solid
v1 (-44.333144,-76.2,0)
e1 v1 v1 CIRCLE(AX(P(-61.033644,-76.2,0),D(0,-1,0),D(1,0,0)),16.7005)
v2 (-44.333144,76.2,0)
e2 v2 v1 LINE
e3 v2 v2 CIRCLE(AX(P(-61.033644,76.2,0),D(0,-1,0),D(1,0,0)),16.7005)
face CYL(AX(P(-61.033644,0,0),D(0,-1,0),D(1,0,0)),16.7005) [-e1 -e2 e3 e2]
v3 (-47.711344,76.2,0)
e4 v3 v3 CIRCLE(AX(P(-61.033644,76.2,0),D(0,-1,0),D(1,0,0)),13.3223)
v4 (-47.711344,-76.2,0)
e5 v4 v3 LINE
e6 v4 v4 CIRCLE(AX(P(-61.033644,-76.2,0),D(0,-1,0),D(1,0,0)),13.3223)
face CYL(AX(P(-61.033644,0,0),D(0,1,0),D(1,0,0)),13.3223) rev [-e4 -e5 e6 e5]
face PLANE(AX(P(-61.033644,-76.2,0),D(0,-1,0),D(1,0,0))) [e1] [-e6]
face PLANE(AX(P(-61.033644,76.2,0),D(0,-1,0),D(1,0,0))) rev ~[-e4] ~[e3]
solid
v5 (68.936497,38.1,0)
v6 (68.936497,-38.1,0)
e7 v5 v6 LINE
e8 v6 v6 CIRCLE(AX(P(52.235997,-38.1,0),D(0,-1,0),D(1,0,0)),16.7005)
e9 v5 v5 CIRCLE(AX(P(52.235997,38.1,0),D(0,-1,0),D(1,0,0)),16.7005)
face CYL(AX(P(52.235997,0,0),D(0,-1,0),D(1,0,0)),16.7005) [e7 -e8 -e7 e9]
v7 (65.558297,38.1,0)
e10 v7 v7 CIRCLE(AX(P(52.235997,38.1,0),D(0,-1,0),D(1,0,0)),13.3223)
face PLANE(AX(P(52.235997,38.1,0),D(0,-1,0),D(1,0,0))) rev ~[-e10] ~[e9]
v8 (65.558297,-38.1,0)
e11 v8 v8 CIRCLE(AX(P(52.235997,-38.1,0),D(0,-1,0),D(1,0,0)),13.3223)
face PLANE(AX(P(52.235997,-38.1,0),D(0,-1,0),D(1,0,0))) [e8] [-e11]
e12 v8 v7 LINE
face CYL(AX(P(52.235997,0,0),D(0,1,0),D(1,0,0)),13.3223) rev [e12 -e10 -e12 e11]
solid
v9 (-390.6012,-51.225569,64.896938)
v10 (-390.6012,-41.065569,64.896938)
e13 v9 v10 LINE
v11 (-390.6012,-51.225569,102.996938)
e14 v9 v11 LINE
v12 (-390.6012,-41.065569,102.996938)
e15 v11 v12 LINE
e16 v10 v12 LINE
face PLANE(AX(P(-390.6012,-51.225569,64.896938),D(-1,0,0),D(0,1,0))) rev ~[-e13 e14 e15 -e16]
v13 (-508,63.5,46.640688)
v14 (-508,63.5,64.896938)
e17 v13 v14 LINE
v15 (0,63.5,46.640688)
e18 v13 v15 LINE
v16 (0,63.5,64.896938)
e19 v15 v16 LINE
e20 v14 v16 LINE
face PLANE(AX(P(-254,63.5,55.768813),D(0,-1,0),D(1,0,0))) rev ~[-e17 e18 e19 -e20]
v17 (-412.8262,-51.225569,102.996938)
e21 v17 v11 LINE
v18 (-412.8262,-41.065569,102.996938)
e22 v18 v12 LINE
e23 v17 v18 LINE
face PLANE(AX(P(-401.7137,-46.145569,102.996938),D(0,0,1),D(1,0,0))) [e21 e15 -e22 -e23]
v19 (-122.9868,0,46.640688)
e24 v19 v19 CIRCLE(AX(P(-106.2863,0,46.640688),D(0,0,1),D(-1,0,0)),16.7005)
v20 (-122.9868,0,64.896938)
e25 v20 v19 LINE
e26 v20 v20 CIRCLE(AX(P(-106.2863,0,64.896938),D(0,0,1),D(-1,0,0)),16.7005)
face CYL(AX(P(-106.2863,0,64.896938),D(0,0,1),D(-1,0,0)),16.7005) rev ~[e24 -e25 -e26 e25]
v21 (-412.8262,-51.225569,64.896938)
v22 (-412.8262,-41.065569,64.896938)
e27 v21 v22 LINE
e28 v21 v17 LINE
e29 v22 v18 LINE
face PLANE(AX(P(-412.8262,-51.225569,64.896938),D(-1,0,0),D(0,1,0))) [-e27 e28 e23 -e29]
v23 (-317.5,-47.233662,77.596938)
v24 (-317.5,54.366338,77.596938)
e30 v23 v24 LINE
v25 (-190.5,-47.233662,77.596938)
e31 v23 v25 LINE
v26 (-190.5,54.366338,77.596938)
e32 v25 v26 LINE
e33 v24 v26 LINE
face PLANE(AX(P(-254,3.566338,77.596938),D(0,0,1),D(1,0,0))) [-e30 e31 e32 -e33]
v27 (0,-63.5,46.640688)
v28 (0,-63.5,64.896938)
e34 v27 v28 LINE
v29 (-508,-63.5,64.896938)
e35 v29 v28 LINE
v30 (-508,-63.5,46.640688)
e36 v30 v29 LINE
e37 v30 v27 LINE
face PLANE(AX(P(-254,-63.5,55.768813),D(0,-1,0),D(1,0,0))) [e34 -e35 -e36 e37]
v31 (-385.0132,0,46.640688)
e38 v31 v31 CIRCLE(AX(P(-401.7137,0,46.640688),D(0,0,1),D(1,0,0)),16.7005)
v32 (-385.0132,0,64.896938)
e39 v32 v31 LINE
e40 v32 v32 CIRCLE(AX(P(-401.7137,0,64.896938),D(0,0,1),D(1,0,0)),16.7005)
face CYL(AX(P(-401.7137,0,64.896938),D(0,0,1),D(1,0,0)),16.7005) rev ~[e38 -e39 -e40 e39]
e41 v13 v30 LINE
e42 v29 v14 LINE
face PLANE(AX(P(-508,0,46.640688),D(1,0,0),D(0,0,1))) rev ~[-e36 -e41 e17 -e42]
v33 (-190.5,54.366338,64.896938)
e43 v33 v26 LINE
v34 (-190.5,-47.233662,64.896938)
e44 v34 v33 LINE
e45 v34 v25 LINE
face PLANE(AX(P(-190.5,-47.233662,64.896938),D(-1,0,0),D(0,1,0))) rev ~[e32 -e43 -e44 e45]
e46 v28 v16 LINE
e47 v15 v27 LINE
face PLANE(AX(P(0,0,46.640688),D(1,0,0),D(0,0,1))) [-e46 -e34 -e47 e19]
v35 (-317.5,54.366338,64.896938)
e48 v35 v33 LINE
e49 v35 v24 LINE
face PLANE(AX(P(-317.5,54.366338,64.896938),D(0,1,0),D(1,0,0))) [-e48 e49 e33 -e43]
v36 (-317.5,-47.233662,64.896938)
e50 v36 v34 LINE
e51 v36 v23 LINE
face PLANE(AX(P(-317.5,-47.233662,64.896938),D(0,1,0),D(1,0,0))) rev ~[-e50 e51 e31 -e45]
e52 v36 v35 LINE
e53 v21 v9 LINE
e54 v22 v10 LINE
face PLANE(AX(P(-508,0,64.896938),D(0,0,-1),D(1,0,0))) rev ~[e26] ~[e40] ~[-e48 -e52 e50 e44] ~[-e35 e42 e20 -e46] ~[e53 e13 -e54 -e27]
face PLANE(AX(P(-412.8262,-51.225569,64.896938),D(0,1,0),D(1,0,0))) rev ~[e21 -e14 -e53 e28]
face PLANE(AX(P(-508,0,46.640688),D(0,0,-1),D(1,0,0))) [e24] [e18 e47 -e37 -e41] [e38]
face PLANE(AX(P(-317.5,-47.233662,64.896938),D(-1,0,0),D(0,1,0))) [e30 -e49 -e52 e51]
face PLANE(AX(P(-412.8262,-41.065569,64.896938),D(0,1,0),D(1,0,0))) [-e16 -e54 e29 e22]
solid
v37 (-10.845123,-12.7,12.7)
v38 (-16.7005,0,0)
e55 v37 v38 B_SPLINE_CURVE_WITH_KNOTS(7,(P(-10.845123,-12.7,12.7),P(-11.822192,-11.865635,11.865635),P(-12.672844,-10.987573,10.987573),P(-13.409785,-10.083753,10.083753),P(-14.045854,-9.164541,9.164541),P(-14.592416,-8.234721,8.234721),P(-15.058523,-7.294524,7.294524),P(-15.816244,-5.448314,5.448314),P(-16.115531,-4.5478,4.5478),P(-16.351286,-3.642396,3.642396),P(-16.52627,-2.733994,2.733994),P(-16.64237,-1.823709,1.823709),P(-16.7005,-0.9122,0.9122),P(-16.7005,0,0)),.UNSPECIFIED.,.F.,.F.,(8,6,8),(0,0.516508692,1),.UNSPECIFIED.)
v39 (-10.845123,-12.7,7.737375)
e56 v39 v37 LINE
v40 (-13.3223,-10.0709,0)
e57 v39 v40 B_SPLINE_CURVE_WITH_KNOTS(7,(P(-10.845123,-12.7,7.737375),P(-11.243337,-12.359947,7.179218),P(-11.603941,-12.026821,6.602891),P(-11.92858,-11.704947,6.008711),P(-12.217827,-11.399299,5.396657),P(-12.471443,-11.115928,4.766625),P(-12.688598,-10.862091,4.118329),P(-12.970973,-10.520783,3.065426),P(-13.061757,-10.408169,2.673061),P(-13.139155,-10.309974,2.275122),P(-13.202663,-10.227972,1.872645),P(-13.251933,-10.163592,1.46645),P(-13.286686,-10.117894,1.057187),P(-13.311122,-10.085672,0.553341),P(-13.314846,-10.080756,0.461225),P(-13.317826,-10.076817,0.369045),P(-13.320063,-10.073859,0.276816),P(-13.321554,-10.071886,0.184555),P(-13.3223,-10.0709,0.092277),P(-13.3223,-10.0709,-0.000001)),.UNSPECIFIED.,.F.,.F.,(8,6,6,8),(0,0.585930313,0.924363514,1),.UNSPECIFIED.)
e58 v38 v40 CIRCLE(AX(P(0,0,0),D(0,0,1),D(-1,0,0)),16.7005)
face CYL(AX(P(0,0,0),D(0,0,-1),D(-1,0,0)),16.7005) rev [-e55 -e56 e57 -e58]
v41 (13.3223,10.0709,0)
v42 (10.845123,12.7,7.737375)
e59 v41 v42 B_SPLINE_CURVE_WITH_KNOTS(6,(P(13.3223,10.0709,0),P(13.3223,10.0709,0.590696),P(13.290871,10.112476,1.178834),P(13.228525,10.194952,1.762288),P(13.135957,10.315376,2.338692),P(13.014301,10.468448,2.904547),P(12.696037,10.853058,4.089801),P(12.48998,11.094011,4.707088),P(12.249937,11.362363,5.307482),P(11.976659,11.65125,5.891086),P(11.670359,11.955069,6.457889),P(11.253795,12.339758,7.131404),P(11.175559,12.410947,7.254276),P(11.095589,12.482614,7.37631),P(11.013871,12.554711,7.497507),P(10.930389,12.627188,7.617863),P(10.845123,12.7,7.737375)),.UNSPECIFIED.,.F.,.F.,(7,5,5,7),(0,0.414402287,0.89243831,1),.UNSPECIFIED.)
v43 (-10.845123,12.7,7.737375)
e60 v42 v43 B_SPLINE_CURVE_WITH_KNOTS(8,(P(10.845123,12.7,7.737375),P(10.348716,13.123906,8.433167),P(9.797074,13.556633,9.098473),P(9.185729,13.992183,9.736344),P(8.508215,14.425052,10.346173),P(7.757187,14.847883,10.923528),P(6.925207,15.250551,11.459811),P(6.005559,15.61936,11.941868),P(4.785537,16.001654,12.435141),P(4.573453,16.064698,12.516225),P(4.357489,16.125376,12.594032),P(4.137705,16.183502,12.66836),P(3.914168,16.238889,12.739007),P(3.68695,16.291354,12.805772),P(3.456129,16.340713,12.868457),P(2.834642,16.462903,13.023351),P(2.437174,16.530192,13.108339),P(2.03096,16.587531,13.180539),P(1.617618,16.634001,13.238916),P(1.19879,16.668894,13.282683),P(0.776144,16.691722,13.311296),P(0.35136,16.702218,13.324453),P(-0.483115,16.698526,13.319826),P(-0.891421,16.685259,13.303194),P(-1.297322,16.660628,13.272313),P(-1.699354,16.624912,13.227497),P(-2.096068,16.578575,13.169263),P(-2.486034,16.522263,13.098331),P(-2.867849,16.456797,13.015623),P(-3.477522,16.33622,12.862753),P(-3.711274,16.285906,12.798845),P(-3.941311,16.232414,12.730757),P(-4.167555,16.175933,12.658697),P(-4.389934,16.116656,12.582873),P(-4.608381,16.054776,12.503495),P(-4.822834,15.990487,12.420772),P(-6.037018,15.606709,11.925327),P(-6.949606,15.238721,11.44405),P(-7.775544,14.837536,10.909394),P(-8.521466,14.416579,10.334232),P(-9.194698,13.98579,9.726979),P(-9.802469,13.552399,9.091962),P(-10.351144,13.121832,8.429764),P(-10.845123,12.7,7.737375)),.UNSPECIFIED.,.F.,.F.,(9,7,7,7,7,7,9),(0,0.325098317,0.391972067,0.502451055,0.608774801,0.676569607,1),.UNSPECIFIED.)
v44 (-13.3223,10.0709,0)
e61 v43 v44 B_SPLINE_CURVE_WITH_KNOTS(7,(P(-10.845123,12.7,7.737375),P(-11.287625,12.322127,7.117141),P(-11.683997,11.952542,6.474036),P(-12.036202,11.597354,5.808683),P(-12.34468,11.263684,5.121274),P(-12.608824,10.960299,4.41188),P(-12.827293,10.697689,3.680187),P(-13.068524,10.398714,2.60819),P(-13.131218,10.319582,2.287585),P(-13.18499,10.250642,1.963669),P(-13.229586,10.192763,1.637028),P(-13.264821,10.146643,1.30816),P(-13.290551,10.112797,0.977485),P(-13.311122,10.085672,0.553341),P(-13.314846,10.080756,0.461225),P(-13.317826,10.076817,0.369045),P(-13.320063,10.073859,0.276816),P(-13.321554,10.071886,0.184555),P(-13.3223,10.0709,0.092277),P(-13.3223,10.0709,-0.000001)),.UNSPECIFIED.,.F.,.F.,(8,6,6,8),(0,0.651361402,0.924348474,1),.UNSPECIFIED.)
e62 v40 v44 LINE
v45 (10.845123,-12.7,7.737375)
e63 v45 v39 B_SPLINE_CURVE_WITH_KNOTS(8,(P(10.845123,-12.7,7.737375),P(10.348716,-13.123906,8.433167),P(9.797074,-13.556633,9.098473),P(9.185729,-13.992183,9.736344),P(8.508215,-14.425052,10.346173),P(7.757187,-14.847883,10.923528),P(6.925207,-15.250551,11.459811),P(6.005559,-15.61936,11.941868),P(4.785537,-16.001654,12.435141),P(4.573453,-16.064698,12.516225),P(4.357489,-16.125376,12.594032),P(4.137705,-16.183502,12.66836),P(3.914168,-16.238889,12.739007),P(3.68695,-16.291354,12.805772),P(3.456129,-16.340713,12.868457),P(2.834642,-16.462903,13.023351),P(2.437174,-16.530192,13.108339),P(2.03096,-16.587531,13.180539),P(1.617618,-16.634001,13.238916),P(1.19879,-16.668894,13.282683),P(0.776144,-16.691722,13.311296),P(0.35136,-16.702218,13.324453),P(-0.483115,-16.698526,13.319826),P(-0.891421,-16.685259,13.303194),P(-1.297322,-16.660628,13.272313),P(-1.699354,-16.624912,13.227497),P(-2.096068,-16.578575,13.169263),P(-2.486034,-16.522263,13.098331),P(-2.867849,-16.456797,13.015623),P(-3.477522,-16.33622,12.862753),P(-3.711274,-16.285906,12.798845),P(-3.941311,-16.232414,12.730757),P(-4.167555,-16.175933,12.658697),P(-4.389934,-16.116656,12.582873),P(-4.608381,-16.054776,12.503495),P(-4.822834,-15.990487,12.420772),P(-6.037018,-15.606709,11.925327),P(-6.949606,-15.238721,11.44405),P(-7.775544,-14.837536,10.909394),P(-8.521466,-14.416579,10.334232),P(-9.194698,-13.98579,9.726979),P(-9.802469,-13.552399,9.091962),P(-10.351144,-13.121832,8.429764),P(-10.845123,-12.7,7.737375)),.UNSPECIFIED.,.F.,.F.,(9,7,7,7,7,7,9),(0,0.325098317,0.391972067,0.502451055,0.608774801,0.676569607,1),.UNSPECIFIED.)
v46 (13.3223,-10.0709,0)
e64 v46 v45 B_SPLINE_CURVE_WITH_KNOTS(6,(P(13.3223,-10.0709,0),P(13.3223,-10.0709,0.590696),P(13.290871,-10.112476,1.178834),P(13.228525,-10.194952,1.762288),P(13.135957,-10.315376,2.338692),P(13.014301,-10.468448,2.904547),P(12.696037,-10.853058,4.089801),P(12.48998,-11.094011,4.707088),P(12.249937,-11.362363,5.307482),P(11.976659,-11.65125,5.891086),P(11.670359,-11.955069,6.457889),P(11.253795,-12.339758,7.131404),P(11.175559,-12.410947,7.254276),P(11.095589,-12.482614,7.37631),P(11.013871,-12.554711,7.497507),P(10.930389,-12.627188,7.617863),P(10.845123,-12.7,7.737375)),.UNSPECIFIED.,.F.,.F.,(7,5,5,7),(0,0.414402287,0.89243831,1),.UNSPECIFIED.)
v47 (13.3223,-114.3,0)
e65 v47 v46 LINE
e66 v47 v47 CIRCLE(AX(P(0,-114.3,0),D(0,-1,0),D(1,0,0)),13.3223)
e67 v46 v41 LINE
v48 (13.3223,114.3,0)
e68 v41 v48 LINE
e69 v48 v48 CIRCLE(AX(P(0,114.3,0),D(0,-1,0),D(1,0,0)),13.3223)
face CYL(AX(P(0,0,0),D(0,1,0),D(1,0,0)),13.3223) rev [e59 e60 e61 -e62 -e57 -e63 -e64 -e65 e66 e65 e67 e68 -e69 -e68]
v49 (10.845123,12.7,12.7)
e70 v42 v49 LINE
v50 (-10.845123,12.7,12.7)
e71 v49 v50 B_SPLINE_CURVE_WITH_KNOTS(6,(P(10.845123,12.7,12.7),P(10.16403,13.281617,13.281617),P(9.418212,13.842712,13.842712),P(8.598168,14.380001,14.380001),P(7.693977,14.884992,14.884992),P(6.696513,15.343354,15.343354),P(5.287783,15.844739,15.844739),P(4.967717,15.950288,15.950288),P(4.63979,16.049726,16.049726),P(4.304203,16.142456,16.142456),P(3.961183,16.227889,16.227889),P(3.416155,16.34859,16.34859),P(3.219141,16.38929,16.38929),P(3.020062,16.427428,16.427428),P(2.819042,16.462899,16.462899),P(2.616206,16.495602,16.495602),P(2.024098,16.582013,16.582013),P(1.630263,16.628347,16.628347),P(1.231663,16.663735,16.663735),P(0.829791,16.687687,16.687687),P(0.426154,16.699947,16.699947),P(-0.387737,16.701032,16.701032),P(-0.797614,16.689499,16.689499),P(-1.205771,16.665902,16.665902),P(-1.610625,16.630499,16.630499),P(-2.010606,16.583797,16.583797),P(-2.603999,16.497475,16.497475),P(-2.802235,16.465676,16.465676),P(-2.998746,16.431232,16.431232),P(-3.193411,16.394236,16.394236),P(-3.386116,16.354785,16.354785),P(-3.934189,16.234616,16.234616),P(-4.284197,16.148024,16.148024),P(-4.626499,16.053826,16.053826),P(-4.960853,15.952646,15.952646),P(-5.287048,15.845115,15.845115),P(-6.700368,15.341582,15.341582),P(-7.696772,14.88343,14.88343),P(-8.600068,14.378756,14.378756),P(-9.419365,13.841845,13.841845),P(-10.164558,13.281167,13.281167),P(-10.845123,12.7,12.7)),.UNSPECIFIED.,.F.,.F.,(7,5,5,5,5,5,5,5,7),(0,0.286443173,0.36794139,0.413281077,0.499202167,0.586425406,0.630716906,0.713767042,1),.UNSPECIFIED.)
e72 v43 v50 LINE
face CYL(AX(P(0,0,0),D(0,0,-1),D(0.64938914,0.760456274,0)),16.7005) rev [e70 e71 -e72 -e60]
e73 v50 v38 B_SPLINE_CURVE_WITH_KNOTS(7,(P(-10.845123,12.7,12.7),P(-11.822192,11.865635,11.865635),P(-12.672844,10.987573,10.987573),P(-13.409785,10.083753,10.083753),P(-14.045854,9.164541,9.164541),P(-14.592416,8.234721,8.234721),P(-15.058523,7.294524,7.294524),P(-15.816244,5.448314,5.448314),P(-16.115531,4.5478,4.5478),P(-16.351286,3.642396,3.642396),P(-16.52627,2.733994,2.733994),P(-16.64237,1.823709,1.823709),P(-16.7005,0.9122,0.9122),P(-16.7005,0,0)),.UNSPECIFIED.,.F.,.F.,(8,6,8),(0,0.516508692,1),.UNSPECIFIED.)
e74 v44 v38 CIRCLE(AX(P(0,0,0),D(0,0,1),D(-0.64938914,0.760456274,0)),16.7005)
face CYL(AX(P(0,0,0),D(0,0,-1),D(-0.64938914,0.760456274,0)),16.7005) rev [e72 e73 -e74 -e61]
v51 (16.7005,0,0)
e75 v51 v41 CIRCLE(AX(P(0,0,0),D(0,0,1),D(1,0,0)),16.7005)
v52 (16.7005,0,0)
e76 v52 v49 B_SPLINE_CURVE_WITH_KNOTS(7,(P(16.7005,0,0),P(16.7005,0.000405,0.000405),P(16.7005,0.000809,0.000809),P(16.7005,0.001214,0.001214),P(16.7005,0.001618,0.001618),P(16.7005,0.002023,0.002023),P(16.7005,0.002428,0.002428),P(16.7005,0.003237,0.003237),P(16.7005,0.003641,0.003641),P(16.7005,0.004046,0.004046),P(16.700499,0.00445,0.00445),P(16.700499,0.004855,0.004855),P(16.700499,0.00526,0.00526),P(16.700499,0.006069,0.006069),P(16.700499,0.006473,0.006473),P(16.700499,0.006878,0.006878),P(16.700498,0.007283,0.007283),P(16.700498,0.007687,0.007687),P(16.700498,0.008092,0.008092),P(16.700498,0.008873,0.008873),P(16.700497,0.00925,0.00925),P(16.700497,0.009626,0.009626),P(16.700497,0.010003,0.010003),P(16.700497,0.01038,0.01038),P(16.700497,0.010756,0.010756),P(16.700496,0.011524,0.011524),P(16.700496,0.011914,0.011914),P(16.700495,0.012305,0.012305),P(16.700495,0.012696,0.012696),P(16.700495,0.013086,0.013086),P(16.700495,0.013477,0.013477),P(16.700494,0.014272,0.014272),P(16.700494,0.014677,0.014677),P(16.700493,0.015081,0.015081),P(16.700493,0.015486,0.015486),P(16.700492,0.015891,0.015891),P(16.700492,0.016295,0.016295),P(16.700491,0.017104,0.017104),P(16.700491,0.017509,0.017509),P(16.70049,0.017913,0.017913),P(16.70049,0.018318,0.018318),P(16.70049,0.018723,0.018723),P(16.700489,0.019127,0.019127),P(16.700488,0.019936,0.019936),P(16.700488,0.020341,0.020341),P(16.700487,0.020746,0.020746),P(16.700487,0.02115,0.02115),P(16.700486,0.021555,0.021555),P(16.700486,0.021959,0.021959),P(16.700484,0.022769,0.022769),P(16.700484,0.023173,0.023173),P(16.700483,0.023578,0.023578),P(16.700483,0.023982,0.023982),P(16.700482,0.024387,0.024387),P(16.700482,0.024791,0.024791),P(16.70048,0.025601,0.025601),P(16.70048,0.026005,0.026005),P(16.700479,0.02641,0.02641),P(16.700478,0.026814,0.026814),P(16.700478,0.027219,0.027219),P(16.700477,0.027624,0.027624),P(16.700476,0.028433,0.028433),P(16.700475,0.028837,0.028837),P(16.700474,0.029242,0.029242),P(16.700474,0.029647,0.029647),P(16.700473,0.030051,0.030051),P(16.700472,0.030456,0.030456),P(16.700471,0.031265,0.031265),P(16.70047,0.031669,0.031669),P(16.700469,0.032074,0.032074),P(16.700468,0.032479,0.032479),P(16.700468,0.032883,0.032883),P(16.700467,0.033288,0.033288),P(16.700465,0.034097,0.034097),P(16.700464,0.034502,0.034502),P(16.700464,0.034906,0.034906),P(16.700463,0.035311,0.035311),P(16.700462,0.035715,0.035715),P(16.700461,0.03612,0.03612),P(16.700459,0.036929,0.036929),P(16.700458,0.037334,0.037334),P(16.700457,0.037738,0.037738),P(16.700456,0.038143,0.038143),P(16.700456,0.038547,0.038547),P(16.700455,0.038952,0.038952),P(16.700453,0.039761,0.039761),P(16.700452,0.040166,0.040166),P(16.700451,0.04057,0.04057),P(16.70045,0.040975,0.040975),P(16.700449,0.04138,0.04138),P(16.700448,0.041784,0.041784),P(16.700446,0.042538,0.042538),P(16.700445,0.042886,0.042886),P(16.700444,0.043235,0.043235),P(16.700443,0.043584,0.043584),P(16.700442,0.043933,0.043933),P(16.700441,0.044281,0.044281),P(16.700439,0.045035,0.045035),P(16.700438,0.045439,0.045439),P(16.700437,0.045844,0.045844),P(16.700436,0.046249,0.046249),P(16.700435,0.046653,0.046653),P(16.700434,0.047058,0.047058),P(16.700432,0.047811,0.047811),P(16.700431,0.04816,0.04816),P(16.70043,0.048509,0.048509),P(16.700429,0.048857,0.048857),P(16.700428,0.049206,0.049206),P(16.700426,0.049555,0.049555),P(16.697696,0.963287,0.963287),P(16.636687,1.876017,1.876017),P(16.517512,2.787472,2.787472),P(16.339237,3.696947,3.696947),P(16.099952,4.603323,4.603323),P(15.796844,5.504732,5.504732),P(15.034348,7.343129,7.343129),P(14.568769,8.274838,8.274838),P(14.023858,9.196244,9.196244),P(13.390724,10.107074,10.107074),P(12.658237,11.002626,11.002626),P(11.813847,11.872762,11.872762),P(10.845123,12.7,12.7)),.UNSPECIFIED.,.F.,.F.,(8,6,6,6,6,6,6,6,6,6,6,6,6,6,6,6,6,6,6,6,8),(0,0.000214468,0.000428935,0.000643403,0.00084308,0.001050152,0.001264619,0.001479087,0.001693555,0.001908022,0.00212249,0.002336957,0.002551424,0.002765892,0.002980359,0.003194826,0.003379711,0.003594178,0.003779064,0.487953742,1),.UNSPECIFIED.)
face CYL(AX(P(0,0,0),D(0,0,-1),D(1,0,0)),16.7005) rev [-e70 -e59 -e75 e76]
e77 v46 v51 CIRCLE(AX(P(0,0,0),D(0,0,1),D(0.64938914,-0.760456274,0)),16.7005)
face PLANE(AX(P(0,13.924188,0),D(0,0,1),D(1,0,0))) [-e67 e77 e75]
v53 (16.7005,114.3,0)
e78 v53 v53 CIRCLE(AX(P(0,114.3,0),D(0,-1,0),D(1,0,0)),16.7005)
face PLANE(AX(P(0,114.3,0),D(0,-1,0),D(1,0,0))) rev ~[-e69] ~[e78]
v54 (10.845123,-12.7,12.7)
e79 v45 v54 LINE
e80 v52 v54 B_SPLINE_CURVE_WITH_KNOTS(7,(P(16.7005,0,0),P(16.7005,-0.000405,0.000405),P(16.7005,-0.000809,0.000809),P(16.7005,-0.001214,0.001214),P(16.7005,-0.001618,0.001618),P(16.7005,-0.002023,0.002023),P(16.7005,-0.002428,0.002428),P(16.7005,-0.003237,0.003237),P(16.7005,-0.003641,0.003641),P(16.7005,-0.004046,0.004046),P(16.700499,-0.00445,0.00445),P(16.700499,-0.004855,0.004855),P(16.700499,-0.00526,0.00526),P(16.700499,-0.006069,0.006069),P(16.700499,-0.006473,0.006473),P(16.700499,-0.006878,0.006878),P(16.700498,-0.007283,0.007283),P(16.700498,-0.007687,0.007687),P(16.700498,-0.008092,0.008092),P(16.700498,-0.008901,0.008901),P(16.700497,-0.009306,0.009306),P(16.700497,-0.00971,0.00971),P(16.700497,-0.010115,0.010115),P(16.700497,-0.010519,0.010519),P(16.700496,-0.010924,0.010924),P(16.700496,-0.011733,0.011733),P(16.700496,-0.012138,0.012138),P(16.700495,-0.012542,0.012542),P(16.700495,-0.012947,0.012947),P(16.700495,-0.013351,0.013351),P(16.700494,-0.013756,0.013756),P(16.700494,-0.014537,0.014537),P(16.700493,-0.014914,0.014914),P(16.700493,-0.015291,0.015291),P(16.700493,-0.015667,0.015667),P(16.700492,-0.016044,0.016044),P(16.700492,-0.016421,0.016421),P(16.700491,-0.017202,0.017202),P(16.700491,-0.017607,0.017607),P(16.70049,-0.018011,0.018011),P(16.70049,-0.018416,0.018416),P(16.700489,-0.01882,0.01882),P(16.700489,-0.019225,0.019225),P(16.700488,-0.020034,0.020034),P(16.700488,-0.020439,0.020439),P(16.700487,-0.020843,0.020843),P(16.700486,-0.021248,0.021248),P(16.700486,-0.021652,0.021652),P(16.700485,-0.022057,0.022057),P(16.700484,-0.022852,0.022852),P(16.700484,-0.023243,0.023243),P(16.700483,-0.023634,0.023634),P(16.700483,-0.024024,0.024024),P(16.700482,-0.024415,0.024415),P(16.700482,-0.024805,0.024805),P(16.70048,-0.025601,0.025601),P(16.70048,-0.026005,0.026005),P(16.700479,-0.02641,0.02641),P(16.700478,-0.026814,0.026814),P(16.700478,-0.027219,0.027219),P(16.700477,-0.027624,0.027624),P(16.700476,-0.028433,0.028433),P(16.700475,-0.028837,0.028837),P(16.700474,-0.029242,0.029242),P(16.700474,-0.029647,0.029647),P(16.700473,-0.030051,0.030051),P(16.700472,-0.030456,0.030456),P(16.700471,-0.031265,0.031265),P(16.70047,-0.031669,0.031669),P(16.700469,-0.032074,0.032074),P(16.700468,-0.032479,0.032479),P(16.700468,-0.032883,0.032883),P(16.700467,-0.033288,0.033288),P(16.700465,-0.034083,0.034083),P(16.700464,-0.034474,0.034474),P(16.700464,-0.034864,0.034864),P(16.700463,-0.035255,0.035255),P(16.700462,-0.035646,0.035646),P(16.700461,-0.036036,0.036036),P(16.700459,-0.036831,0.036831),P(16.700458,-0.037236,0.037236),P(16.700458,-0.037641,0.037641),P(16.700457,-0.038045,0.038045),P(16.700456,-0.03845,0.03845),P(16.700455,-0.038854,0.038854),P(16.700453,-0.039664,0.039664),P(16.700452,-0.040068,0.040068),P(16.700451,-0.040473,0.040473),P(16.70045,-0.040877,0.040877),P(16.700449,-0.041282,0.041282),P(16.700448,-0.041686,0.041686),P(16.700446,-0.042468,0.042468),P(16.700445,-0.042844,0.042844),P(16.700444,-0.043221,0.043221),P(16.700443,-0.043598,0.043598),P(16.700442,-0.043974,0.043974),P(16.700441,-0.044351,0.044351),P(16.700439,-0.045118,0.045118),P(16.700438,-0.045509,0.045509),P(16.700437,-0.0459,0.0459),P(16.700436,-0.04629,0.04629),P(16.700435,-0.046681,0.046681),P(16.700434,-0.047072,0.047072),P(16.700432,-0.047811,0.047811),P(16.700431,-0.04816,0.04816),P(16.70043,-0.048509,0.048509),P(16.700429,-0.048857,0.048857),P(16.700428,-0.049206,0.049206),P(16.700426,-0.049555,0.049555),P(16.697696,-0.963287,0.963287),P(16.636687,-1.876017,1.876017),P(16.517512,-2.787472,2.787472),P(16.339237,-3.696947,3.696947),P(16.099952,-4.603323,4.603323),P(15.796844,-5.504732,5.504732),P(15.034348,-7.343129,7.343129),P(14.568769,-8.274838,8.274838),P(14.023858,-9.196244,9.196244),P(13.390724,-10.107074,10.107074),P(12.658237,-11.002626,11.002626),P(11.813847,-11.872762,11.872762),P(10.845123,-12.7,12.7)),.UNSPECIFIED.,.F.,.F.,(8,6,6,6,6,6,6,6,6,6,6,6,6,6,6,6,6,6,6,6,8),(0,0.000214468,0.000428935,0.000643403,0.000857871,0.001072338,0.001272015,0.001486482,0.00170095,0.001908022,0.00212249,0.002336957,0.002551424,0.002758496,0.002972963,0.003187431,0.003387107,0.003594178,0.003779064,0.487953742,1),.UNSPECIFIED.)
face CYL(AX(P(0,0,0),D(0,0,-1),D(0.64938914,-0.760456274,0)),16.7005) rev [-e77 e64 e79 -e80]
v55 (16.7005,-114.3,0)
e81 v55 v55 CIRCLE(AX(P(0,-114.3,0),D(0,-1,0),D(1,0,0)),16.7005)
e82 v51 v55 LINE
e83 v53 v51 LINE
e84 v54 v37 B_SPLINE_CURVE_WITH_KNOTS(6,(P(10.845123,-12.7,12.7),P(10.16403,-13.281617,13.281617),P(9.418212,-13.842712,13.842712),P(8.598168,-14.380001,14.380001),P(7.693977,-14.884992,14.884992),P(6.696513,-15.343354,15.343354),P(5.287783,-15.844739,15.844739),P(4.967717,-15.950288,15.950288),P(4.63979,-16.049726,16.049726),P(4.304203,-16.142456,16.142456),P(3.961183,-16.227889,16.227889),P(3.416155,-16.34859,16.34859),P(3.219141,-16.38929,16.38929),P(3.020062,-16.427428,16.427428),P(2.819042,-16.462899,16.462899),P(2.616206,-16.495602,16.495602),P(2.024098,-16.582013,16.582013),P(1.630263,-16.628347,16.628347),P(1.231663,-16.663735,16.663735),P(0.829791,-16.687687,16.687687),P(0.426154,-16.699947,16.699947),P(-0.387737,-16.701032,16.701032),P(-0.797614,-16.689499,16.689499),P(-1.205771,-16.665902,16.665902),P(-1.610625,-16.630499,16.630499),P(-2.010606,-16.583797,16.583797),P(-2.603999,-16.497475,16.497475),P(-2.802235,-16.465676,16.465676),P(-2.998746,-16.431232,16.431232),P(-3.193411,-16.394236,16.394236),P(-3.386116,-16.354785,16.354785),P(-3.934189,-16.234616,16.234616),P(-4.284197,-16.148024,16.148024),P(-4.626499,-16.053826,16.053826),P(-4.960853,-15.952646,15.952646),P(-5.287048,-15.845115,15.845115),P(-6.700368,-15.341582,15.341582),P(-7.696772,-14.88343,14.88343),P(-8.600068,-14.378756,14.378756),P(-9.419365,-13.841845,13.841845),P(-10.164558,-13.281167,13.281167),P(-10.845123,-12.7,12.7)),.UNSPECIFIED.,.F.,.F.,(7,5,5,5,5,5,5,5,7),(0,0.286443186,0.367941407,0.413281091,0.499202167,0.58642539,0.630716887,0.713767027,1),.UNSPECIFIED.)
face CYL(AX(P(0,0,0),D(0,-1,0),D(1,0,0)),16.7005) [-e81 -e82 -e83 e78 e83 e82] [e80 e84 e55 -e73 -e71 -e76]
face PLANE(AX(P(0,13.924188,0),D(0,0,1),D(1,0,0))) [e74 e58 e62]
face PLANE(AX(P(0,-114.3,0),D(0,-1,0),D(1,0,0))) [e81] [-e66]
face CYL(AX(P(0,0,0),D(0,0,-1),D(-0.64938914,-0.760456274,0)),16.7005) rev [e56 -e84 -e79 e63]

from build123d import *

# Parameters (mm, degrees)
F0_R      = 16.7005
F0_R_2    = 13.3223
F1_DEPTH  = 76.2
F2_DEPTH  = 114.3
F3_DEPTH  = 38.1
F4_W      = 508
F4_H      = 18.25625
F5_DEPTH  = 63.5
F7_DEPTH  = 25.4
F8_R      = 16.7005
F9_DEPTH  = 25.4
F10_W     = 127
F10_H     = 101.6
F11_DEPTH = 12.7
F10_W_2   = 22.225
F10_H_2   = 10.16
F12_DEPTH = 38.1


with BuildPart() as f1:
    # F0 (on Front) → F1 (new body, symmetric)
    with BuildSketch(Plane.XZ):
        with Locations((-61.0336442519, 0)):
            Circle(F0_R)
        with Locations((-61.0336442519, 0)):
            Circle(F0_R_2, mode=Mode.SUBTRACT)
    extrude(amount=F1_DEPTH, both=True)


with BuildPart() as f2:
    # F0 (on Front) → F2 (new body, symmetric)
    with BuildSketch(Plane.XZ):
        Circle(F0_R)
        Circle(F0_R_2, mode=Mode.SUBTRACT)
    extrude(amount=F2_DEPTH, both=True)

    # F6 (on Top) → F7 (cut)
    with BuildSketch(Plane.XY):
        with BuildLine():
            ThreePointArc((10.8451233395, 12.7), (0, 16.7005), (-10.8451233395, 12.7))
            Line((-10.8451233395, 12.7), (10.8451233395, 12.7))
        make_face()
        with BuildLine():
            ThreePointArc((-16.7005, 0), (-15.166174247, -6.992414387), (-10.8451233395, -12.7))
            Line((-10.8451233395, -12.7), (10.8451233395, -12.7))
            ThreePointArc((10.8451233395, -12.7), (15.166174247, -6.992414387), (16.7005, 0))
            ThreePointArc((16.7005, 0), (15.166174247, 6.992414387), (10.8451233395, 12.7))
            Line((10.8451233395, 12.7), (-10.8451233395, 12.7))
            ThreePointArc((-10.8451233395, 12.7), (-15.166174247, 6.992414387), (-16.7005, 0))
        make_face()
        with BuildLine():
            Line((10.8451233395, -12.7), (-10.8451233395, -12.7))
            ThreePointArc((-10.8451233395, -12.7), (0, -16.7005), (10.8451233395, -12.7))
        make_face()
    extrude(amount=F7_DEPTH, mode=Mode.SUBTRACT)


with BuildPart() as f3:
    # F0 (on Front) → F3 (new body, symmetric)
    with BuildSketch(Plane.XZ):
        with Locations((52.2359970283, 0)):
            Circle(F0_R)
        with Locations((52.2359970283, 0)):
            Circle(F0_R_2, mode=Mode.SUBTRACT)
    extrude(amount=F3_DEPTH, both=True)


with BuildPart() as f5:
    # F4 (on Front) → F5 (new body, symmetric)
    with BuildSketch(Plane.XZ):
        with Locations((-254, 55.7688130877)):
            Rectangle(F4_W, F4_H)
    extrude(amount=F5_DEPTH, both=True)

    # F8 (on face) → F9 (cut)
    with BuildSketch(Plane.XY.offset(64.8969380877)):
        with BuildLine():
            ThreePointArc((-89.5858, 0), (-106.2863, 16.7005), (-122.9868, 0))
            ThreePointArc((-122.9868, 0), (-106.2863, -16.7005), (-89.5858, 0))
        make_face()
        with Locations((-401.7137, 0)):
            Circle(F8_R)
    extrude(amount=-F9_DEPTH, mode=Mode.SUBTRACT)

    # F10 (on face) → F11 (join)
    with BuildSketch(Plane.XY.offset(64.8969380877)):
        with Locations((-254, 3.5663377494)):
            Rectangle(F10_W, F10_H)
    extrude(amount=F11_DEPTH)

    # F10 (on face) → F12 (join)
    with BuildSketch(Plane.XY.offset(64.8969380877)):
        with Locations((-401.7137, -46.1455690992)):
            Rectangle(F10_W_2, F10_H_2)
    extrude(amount=F12_DEPTH)


solid = Compound([f1.part, f2.part, f3.part, f5.part])
